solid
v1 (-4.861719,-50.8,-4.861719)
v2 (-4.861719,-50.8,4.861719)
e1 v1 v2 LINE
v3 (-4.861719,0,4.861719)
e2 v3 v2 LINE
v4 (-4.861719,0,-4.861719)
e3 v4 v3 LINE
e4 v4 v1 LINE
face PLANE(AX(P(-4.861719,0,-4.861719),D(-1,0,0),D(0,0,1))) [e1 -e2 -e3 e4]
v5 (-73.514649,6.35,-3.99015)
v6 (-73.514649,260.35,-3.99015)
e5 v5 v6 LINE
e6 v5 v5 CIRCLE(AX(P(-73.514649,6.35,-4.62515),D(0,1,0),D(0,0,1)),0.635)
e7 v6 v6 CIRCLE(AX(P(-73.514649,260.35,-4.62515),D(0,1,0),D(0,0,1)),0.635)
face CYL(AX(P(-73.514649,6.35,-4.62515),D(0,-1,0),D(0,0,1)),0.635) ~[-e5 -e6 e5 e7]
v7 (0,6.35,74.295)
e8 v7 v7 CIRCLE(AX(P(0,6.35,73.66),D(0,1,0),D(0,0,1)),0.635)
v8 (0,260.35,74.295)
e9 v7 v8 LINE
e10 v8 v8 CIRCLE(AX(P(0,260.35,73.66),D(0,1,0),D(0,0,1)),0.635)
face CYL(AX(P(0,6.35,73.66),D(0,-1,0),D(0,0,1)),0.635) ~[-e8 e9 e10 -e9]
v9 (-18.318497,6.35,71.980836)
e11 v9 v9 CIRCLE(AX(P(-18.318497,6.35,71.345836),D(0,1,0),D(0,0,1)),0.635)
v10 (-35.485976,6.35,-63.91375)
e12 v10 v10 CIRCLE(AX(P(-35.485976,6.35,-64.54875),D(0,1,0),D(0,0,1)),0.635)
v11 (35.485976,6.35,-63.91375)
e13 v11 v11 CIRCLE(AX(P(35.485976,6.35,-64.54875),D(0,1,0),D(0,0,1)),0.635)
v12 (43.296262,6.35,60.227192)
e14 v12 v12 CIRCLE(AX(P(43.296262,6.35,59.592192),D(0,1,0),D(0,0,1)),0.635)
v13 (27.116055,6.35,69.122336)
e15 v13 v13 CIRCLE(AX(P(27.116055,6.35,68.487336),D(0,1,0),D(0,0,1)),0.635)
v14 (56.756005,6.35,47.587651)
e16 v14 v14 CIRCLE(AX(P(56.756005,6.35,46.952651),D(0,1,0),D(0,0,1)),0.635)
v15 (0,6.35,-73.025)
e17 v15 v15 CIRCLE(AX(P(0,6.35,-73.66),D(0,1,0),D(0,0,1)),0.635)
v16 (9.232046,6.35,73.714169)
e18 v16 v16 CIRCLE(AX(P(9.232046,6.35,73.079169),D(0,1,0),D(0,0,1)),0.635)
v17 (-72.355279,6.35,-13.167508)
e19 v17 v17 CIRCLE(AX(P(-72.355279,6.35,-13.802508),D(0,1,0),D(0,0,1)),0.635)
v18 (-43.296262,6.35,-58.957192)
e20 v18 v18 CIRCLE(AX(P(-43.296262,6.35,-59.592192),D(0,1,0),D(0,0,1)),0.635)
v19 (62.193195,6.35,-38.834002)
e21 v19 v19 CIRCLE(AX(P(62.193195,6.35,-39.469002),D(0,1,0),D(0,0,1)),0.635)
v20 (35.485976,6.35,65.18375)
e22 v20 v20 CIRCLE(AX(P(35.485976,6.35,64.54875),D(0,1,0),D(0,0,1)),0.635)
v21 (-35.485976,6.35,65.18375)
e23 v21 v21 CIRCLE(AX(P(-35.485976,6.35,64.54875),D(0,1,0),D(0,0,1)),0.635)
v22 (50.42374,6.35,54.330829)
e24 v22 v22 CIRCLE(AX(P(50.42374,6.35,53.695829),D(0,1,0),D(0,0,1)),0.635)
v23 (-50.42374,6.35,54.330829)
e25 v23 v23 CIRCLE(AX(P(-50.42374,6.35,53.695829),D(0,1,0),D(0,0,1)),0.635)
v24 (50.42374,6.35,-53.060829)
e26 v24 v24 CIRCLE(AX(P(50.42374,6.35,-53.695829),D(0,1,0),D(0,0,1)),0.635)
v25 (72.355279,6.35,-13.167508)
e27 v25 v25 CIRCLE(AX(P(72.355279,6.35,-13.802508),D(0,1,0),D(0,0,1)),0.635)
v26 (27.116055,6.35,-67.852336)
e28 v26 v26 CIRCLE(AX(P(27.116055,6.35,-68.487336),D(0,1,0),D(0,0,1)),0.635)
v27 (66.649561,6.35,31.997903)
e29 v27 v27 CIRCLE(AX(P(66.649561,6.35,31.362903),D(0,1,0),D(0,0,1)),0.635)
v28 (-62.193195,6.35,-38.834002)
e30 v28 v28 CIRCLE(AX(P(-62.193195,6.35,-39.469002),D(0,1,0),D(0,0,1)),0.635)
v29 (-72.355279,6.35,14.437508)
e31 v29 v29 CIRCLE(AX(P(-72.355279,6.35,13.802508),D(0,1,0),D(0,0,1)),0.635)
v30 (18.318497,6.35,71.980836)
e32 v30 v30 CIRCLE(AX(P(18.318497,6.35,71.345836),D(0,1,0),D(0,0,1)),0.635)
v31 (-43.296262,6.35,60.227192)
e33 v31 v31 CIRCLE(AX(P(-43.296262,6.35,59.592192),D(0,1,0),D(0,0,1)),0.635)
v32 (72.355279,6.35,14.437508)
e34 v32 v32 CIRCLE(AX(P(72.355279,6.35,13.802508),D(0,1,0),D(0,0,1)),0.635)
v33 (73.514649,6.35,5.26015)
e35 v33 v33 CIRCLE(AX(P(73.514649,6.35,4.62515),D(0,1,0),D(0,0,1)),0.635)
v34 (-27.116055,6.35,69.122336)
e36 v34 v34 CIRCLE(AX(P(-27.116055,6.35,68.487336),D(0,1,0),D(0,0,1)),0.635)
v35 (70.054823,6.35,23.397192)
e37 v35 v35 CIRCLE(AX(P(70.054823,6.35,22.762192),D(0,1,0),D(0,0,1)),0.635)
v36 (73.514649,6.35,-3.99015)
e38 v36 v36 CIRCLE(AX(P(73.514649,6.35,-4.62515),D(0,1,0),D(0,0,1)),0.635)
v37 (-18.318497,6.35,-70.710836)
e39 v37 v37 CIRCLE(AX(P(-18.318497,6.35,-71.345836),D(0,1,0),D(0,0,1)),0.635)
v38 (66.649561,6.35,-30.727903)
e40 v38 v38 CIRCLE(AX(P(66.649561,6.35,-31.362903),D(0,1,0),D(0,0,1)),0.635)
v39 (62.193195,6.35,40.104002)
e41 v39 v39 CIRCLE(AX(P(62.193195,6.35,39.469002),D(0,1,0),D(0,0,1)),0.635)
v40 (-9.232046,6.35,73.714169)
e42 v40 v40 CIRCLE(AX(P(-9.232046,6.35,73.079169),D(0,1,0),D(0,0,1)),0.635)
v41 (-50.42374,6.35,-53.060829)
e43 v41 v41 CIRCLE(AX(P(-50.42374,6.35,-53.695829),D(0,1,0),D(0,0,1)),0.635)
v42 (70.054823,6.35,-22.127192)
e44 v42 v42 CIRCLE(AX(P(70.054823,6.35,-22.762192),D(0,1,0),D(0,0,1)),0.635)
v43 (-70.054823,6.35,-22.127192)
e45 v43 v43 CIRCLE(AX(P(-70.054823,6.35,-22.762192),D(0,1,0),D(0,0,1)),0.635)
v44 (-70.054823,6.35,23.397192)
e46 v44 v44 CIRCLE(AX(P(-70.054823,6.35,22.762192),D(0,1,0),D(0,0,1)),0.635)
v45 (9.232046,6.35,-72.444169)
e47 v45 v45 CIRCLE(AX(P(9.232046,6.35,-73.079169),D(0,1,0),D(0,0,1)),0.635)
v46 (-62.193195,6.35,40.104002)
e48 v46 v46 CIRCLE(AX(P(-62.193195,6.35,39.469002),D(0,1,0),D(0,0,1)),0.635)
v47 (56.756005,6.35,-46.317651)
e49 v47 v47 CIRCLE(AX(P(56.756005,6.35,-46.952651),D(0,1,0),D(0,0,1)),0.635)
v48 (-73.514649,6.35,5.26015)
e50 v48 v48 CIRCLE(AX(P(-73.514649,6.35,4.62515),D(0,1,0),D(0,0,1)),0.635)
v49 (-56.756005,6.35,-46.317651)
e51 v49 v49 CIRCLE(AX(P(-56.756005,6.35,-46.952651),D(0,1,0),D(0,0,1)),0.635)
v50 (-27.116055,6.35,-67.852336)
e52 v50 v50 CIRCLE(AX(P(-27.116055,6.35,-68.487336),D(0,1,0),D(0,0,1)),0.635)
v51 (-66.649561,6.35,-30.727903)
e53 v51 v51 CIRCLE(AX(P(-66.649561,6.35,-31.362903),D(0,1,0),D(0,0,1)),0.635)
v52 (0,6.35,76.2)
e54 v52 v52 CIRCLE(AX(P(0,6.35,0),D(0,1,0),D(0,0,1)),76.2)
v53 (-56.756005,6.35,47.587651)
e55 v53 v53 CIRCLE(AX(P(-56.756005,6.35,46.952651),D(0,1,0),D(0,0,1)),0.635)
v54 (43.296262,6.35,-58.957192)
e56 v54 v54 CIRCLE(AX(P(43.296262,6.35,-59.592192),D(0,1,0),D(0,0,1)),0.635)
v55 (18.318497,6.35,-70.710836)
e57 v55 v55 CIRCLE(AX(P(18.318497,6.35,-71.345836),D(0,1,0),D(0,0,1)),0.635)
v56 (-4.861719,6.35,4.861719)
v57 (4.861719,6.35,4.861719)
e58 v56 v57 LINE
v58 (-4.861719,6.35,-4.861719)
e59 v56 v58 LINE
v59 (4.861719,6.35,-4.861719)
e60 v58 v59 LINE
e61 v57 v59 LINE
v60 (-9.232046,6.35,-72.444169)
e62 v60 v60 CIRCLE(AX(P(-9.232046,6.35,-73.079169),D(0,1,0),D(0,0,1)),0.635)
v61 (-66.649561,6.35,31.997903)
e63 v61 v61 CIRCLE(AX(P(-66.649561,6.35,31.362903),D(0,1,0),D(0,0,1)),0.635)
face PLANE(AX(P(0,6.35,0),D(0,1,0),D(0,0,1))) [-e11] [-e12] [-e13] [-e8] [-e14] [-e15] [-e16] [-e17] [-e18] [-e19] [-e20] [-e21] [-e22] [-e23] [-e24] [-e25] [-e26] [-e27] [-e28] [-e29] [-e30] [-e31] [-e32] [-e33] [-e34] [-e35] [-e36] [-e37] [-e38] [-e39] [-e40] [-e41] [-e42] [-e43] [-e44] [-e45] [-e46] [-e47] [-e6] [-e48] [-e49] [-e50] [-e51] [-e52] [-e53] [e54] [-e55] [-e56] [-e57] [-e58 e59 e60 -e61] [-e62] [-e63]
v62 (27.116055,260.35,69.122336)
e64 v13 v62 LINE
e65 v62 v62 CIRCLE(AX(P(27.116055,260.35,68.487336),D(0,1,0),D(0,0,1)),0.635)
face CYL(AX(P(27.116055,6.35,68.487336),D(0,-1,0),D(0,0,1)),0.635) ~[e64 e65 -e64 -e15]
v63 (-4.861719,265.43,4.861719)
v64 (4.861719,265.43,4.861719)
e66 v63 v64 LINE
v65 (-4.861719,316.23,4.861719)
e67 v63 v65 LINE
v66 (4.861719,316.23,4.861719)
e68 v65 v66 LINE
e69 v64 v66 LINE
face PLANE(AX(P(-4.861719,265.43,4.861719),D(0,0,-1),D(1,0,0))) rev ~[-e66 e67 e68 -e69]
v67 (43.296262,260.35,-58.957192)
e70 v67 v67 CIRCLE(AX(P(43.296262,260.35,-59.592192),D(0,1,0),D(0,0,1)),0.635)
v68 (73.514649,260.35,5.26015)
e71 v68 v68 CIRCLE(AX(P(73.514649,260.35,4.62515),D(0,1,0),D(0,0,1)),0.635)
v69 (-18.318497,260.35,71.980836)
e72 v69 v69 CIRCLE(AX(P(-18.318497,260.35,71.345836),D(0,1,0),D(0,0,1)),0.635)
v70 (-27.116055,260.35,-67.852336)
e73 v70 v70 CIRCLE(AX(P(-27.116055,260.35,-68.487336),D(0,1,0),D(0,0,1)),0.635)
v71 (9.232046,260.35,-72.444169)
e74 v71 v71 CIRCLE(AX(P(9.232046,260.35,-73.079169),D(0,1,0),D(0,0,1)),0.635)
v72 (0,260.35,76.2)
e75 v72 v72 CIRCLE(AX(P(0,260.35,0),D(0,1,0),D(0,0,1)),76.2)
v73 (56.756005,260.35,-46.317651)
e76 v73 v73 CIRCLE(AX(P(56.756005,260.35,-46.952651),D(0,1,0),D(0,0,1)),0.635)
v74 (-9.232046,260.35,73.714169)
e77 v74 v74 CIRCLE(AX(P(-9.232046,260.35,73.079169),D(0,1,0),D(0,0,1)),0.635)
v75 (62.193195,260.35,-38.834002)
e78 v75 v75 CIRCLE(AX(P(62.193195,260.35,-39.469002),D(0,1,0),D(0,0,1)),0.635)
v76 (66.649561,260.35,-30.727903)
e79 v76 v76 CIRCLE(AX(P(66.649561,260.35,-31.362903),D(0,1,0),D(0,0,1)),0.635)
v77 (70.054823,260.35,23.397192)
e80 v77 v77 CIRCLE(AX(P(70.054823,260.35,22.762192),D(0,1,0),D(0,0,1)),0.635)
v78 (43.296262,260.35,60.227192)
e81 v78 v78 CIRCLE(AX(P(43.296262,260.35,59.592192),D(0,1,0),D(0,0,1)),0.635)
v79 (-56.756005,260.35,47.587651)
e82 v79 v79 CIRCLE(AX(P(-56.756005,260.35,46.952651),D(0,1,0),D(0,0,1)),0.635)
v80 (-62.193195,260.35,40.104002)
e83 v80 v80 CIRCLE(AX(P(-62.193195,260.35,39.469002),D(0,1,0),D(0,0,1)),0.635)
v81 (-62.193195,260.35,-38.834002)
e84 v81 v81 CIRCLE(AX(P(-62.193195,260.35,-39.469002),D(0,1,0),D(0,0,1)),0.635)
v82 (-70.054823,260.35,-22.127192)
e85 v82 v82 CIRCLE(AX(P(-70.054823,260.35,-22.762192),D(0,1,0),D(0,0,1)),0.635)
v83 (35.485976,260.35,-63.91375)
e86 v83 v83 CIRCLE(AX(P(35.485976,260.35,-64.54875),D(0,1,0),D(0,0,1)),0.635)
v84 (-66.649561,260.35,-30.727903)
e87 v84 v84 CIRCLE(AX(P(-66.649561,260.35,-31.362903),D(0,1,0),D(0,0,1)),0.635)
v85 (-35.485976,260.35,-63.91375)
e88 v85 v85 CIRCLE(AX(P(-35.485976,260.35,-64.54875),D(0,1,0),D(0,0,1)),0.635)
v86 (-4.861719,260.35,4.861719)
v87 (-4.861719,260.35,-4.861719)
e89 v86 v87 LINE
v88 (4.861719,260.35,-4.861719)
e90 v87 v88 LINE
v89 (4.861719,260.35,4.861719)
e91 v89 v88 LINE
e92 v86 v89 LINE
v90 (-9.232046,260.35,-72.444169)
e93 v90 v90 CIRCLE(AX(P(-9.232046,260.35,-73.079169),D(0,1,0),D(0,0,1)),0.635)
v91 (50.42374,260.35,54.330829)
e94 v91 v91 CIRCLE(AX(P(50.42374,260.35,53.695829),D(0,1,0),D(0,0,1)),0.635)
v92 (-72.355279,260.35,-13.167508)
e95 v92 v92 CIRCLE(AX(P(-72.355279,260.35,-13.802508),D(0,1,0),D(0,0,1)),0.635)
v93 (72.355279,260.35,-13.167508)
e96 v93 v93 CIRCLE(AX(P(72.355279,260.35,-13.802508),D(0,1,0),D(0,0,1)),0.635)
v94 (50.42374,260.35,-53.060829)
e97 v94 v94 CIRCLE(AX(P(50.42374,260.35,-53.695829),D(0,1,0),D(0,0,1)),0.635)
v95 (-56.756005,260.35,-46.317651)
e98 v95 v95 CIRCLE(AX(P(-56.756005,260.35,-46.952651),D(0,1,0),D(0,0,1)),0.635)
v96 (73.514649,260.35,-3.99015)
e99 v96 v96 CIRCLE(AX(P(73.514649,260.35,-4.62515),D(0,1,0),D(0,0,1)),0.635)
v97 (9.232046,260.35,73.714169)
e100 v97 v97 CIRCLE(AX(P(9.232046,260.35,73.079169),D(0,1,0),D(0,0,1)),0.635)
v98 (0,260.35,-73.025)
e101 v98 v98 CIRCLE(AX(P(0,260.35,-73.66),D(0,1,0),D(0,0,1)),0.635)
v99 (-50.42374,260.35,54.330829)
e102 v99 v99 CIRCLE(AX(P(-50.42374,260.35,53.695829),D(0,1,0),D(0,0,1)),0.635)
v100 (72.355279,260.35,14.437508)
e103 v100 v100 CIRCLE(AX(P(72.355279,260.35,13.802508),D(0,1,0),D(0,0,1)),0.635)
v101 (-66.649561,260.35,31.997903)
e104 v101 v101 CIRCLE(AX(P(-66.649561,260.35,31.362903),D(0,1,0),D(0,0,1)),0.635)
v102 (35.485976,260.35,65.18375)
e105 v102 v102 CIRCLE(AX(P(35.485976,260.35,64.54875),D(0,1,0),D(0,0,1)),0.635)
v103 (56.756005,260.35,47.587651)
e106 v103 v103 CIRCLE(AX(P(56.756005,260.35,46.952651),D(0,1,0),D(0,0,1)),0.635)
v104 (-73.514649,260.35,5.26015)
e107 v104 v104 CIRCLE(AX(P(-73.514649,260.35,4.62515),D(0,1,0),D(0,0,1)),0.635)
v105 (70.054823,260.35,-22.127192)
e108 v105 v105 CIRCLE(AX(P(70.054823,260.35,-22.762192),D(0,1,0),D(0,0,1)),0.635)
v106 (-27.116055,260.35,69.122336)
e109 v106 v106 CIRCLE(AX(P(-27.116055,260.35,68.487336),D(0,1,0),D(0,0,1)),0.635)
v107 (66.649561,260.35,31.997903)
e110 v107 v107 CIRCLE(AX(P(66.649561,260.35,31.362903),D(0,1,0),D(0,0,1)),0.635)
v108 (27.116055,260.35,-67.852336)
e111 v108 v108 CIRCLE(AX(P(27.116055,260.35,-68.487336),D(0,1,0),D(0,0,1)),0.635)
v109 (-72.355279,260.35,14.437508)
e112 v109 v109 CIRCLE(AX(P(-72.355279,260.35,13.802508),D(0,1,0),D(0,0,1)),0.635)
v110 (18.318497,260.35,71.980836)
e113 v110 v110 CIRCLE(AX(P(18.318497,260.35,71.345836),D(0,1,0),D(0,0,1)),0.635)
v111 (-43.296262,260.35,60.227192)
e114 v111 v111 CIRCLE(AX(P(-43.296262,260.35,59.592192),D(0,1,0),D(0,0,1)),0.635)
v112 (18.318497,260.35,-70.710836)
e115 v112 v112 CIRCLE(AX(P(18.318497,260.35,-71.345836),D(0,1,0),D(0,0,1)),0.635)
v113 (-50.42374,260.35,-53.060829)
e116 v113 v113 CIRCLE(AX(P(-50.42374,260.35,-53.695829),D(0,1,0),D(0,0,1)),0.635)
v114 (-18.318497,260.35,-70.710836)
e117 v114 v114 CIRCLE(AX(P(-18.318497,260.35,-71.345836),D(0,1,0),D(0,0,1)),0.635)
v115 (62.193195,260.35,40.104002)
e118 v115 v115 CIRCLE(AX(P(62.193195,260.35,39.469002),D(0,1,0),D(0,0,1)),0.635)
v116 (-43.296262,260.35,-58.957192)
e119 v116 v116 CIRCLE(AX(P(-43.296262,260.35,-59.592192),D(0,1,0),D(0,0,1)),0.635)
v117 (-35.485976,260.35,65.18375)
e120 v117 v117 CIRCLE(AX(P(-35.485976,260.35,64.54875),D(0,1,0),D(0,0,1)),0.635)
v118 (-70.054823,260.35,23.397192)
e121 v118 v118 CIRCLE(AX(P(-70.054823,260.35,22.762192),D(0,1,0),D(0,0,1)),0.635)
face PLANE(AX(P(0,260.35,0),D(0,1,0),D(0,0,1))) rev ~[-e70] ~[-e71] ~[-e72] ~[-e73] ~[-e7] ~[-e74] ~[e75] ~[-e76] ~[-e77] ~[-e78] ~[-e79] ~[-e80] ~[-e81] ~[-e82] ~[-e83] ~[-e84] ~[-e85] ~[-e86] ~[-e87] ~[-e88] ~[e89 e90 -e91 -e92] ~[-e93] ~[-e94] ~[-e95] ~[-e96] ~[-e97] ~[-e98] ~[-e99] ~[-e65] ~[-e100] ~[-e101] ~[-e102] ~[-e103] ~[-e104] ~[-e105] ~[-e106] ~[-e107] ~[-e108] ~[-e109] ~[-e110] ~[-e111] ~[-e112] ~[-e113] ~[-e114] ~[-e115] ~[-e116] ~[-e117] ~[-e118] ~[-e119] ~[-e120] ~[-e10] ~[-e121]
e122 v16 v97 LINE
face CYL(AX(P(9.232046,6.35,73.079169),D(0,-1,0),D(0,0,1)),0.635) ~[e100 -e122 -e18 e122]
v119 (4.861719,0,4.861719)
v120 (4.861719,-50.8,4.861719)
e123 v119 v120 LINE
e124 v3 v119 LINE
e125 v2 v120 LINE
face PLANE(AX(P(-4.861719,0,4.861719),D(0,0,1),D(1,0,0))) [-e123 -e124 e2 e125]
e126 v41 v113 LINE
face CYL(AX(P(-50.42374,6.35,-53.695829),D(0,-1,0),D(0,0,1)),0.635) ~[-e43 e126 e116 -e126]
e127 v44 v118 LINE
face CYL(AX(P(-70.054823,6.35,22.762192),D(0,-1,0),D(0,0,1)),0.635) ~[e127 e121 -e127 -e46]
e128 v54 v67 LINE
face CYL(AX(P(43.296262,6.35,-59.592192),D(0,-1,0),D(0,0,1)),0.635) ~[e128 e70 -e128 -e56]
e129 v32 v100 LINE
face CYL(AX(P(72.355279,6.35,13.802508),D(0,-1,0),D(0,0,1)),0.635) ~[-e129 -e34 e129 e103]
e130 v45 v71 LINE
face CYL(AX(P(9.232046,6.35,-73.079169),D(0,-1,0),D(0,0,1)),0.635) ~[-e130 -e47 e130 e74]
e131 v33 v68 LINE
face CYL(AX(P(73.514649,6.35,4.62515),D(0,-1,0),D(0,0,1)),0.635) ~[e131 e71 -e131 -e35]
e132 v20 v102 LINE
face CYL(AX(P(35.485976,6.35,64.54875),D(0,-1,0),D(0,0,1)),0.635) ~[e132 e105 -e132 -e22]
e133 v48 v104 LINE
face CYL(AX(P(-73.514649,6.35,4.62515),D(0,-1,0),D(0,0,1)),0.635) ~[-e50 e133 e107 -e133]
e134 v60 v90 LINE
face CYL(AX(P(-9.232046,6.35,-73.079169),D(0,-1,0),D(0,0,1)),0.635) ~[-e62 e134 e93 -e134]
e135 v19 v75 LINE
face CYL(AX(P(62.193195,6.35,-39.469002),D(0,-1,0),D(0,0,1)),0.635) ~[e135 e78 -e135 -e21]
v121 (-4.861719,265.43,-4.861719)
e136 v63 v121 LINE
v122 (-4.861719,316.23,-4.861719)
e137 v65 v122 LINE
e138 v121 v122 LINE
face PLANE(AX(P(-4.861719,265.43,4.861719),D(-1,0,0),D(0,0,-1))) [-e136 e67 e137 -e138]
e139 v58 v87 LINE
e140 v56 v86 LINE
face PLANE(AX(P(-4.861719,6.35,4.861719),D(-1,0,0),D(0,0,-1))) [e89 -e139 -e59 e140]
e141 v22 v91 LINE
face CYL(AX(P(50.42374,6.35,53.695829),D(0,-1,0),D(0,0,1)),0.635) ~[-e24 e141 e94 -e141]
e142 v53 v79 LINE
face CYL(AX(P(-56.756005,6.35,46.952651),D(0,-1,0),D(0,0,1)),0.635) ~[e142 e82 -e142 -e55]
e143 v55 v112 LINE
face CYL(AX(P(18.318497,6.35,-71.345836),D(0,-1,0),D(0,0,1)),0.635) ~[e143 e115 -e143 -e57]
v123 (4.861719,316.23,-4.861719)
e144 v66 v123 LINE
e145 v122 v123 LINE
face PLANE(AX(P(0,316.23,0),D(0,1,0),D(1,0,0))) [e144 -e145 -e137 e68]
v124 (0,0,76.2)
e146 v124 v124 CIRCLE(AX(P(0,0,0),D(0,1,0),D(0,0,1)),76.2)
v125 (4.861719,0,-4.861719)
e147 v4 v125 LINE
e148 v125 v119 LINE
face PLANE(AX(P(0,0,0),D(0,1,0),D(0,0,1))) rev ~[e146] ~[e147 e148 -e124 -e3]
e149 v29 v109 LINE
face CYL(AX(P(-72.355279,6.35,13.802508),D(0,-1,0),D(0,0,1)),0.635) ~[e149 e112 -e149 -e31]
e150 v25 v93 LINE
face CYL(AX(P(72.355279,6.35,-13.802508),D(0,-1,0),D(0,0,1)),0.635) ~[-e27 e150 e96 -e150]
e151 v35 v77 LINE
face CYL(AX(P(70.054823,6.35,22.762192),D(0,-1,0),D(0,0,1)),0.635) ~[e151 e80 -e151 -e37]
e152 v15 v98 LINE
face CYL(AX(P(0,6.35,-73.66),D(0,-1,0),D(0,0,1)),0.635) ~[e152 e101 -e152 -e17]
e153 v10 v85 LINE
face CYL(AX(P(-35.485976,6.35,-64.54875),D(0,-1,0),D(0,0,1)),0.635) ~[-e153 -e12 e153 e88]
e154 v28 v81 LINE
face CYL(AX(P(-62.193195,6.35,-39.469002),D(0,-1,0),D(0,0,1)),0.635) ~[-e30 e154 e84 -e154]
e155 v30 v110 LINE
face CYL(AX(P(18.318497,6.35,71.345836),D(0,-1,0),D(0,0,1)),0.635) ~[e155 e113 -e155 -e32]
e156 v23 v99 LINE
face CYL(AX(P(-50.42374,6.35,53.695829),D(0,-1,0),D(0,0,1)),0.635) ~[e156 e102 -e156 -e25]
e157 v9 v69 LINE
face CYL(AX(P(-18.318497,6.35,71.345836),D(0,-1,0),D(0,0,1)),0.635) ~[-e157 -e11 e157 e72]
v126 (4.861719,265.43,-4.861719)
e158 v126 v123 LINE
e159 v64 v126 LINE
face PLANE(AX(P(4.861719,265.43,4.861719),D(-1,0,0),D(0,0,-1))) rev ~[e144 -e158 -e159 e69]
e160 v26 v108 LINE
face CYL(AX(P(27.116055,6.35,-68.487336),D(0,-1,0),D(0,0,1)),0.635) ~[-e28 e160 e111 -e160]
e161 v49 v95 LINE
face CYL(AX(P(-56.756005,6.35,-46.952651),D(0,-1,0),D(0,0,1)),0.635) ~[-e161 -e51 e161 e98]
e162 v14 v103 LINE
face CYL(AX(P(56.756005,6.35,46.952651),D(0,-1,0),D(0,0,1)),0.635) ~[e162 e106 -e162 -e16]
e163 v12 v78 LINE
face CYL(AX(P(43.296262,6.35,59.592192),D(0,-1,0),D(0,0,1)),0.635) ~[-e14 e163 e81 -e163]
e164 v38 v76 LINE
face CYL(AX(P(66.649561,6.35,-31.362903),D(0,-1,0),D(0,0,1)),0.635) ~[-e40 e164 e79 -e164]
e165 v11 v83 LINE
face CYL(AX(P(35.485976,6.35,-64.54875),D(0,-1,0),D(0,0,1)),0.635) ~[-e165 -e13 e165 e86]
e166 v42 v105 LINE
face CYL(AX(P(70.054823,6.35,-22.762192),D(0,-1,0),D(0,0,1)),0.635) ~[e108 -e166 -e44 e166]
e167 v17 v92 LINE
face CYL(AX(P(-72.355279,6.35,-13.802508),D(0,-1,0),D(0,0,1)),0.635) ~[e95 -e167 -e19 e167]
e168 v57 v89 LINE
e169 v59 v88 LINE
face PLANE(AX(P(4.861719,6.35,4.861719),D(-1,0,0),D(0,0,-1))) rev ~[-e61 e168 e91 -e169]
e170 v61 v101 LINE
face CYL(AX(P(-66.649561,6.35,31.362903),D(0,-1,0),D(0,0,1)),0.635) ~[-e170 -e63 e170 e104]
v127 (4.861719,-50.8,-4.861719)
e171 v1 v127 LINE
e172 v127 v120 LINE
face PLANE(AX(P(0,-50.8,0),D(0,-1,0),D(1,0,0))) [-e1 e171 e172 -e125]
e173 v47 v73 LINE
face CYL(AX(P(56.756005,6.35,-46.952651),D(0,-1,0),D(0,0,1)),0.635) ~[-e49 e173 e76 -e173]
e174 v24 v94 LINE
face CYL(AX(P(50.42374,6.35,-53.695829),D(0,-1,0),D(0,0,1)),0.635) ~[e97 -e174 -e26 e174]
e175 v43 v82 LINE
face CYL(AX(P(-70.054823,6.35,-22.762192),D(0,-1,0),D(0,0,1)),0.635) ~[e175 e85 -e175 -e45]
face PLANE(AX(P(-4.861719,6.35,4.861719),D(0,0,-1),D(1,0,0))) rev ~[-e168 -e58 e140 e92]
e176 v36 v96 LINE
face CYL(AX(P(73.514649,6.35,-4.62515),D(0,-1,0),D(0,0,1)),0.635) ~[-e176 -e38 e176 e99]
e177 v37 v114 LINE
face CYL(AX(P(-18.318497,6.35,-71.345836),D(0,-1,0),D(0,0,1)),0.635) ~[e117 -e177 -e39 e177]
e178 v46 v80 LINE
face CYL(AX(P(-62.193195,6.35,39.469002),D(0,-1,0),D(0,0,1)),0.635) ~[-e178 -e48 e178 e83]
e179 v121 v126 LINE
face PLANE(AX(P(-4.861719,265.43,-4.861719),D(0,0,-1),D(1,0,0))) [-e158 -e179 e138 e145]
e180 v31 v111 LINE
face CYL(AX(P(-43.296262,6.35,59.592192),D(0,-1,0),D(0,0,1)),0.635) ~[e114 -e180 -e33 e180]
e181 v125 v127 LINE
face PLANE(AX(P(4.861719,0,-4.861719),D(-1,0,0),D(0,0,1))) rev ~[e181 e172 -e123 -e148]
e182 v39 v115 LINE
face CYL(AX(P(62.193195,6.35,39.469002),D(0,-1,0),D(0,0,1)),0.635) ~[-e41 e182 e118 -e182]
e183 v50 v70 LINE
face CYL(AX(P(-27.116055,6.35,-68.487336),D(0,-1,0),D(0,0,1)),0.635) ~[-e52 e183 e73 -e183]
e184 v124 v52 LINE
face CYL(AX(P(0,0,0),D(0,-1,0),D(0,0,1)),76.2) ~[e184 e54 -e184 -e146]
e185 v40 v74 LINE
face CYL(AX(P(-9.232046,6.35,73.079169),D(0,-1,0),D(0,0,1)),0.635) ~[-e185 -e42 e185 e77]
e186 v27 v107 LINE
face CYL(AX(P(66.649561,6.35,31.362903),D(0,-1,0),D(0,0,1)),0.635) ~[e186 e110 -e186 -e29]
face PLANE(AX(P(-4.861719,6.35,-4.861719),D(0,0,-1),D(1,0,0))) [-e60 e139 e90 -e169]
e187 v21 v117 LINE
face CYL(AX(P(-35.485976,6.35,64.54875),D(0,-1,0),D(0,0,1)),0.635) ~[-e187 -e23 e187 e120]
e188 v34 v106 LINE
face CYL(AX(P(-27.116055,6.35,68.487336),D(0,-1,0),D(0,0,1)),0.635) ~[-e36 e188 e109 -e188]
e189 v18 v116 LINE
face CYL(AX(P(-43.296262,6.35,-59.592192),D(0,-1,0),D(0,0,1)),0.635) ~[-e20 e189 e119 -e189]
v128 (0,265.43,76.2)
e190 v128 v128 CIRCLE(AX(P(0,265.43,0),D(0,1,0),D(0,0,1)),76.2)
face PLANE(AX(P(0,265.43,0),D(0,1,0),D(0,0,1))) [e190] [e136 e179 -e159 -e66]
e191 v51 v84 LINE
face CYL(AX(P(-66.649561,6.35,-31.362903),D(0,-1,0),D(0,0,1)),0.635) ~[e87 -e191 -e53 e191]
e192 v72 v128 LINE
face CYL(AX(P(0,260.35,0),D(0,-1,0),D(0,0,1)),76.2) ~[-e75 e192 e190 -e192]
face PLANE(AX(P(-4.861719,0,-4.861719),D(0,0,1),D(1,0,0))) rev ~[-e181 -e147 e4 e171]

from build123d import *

# Parameters (mm, degrees)
SKETCH1_R           = 76.2
BOSS_EXTRUDE1_DEPTH = 6.35
SKETCH3_W           = 9.7234375
SKETCH3_H           = 9.7234375
BOSS_EXTRUDE2_DEPTH = 254
SKETCH4_R           = 76.2
BOSS_EXTRUDE3_DEPTH = 5.08
SKETCH5_R           = 0.635
BOSS_EXTRUDE4_DEPTH = 254
SKETCH6_W           = 9.7234375
SKETCH6_H           = 9.7234375
BOSS_EXTRUDE5_DEPTH = 50.8
SKETCH7_W           = 9.7234375
SKETCH7_H           = 9.7234375
BOSS_EXTRUDE6_DEPTH = 50.8


with BuildPart() as part:
    # Sketch1 → Boss-Extrude1 (new body)
    with BuildSketch(Plane(origin=(0, 0, 0), x_dir=(1, 0, 0), z_dir=(0, 1, 0))):
        with Locations(Location((0, 0, 0), (0, 0, 270))):
            Circle(SKETCH1_R)
    extrude(amount=BOSS_EXTRUDE1_DEPTH)

    # Sketch3 → Boss-Extrude2 (add)
    with BuildSketch(Plane(origin=(0, 6.35, 0), x_dir=(1, 0, 0), z_dir=(0, 1, 0))):
        Rectangle(SKETCH3_W, SKETCH3_H)
    extrude(amount=BOSS_EXTRUDE2_DEPTH)

    # Sketch4 → Boss-Extrude3 (add)
    with BuildSketch(Plane(origin=(0, 260.35, 0), x_dir=(1, 0, 0), z_dir=(0, 1, 0))):
        with Locations(Location((0, 0, 0), (0, 0, 270))):
            Circle(SKETCH4_R)
    extrude(amount=BOSS_EXTRUDE3_DEPTH)

    # Sketch5 → Boss-Extrude4 (add)
    with BuildSketch(Plane(origin=(0, 6.35, 0), x_dir=(1, 0, 0), z_dir=(0, 1, 0))):
        with Locations(Location((0, 73.66, 0), (0, 0, 270))):
            Circle(SKETCH5_R)
        with Locations(Location((9.232045984, 73.079168899, 0), (0, 0, 270))):
            Circle(SKETCH5_R)
        with Locations(Location((18.318497089, 71.345835649, 0), (0, 0, 270))):
            Circle(SKETCH5_R)
        with Locations(Location((27.116054551, 68.487335951, 0), (0, 0, 270))):
            Circle(SKETCH5_R)
        with Locations(Location((35.485975634, 64.548750052, 0), (0, 0, 270))):
            Circle(SKETCH5_R)
        with Locations(Location((43.296261684, 59.592191806, 0), (0, 0, 270))):
            Circle(SKETCH5_R)
        with Locations(Location((50.423739823, 53.695829096, 0), (0, 0, 270))):
            Circle(SKETCH5_R)
        with Locations(Location((56.756005463, 46.952651085, 0), (0, 0, 270))):
            Circle(SKETCH5_R)
        with Locations(Location((62.193194993, 39.469001718, 0), (0, 0, 270))):
            Circle(SKETCH5_R)
        with Locations(Location((66.649560685, 31.362902617, 0), (0, 0, 270))):
            Circle(SKETCH5_R)
        with Locations(Location((70.05482299, 22.762191806, 0), (0, 0, 270))):
            Circle(SKETCH5_R)
        with Locations(Location((72.355278889, 13.802507632, 0), (0, 0, 270))):
            Circle(SKETCH5_R)
        with Locations(Location((73.514648816, 4.625149669, 0), (0, 0, 270))):
            Circle(SKETCH5_R)
        with Locations(Location((73.514648816, -4.625149668, 0), (0, 0, 270))):
            Circle(SKETCH5_R)
        with Locations(Location((72.355278889, -13.802507632, 0), (0, 0, 270))):
            Circle(SKETCH5_R)
        with Locations(Location((70.05482299, -22.762191806, 0), (0, 0, 270))):
            Circle(SKETCH5_R)
        with Locations(Location((66.649560685, -31.362902617, 0), (0, 0, 270))):
            Circle(SKETCH5_R)
        with Locations(Location((62.193194993, -39.469001718, 0), (0, 0, 270))):
            Circle(SKETCH5_R)
        with Locations(Location((56.756005463, -46.952651085, 0), (0, 0, 270))):
            Circle(SKETCH5_R)
        with Locations(Location((50.423739823, -53.695829096, 0), (0, 0, 270))):
            Circle(SKETCH5_R)
        with Locations(Location((43.296261684, -59.592191806, 0), (0, 0, 270))):
            Circle(SKETCH5_R)
        with Locations(Location((35.485975635, -64.548750052, 0), (0, 0, 270))):
            Circle(SKETCH5_R)
        with Locations(Location((27.116054551, -68.48733595, 0), (0, 0, 270))):
            Circle(SKETCH5_R)
        with Locations(Location((18.318497089, -71.345835649, 0), (0, 0, 270))):
            Circle(SKETCH5_R)
        with Locations(Location((9.232045985, -73.079168899, 0), (0, 0, 270))):
            Circle(SKETCH5_R)
        with Locations(Location((0, -73.66, 0), (0, 0, 270))):
            Circle(SKETCH5_R)
        with Locations(Location((-9.232045984, -73.079168899, 0), (0, 0, 270))):
            Circle(SKETCH5_R)
        with Locations(Location((-18.318497088, -71.345835649, 0), (0, 0, 270))):
            Circle(SKETCH5_R)
        with Locations(Location((-27.116054551, -68.487335951, 0), (0, 0, 270))):
            Circle(SKETCH5_R)
        with Locations(Location((-35.485975634, -64.548750052, 0), (0, 0, 270))):
            Circle(SKETCH5_R)
        with Locations(Location((-43.296261684, -59.592191806, 0), (0, 0, 270))):
            Circle(SKETCH5_R)
        with Locations(Location((-50.423739823, -53.695829096, 0), (0, 0, 270))):
            Circle(SKETCH5_R)
        with Locations(Location((-56.756005463, -46.952651085, 0), (0, 0, 270))):
            Circle(SKETCH5_R)
        with Locations(Location((-62.193194992, -39.469001718, 0), (0, 0, 270))):
            Circle(SKETCH5_R)
        with Locations(Location((-66.649560684, -31.362902617, 0), (0, 0, 270))):
            Circle(SKETCH5_R)
        with Locations(Location((-70.05482299, -22.762191806, 0), (0, 0, 270))):
            Circle(SKETCH5_R)
        with Locations(Location((-72.355278889, -13.802507632, 0), (0, 0, 270))):
            Circle(SKETCH5_R)
        with Locations(Location((-73.514648816, -4.625149669, 0), (0, 0, 270))):
            Circle(SKETCH5_R)
        with Locations(Location((-73.514648816, 4.625149668, 0), (0, 0, 270))):
            Circle(SKETCH5_R)
        with Locations(Location((-72.355278889, 13.802507632, 0), (0, 0, 270))):
            Circle(SKETCH5_R)
        with Locations(Location((-70.05482299, 22.762191806, 0), (0, 0, 270))):
            Circle(SKETCH5_R)
        with Locations(Location((-66.649560685, 31.362902617, 0), (0, 0, 270))):
            Circle(SKETCH5_R)
        with Locations(Location((-62.193194992, 39.469001718, 0), (0, 0, 270))):
            Circle(SKETCH5_R)
        with Locations(Location((-56.756005463, 46.952651085, 0), (0, 0, 270))):
            Circle(SKETCH5_R)
        with Locations(Location((-50.423739823, 53.695829096, 0), (0, 0, 270))):
            Circle(SKETCH5_R)
        with Locations(Location((-43.296261684, 59.592191806, 0), (0, 0, 270))):
            Circle(SKETCH5_R)
        with Locations(Location((-35.485975634, 64.548750052, 0), (0, 0, 270))):
            Circle(SKETCH5_R)
        with Locations(Location((-27.116054551, 68.48733595, 0), (0, 0, 270))):
            Circle(SKETCH5_R)
        with Locations(Location((-18.318497089, 71.345835649, 0), (0, 0, 270))):
            Circle(SKETCH5_R)
        with Locations(Location((-9.232045984, 73.079168899, 0), (0, 0, 270))):
            Circle(SKETCH5_R)
    extrude(amount=BOSS_EXTRUDE4_DEPTH)

    # Sketch6 → Boss-Extrude5 (add)
    with BuildSketch(Plane(origin=(0, 265.43, 0), x_dir=(1, 0, 0), z_dir=(0, 1, 0))):
        Rectangle(SKETCH6_W, SKETCH6_H)
    extrude(amount=BOSS_EXTRUDE5_DEPTH)

    # Sketch7 → Boss-Extrude6 (add)
    with BuildSketch(Plane.XZ):
        Rectangle(SKETCH7_W, SKETCH7_H)
    extrude(amount=BOSS_EXTRUDE6_DEPTH)


solid = part.part
